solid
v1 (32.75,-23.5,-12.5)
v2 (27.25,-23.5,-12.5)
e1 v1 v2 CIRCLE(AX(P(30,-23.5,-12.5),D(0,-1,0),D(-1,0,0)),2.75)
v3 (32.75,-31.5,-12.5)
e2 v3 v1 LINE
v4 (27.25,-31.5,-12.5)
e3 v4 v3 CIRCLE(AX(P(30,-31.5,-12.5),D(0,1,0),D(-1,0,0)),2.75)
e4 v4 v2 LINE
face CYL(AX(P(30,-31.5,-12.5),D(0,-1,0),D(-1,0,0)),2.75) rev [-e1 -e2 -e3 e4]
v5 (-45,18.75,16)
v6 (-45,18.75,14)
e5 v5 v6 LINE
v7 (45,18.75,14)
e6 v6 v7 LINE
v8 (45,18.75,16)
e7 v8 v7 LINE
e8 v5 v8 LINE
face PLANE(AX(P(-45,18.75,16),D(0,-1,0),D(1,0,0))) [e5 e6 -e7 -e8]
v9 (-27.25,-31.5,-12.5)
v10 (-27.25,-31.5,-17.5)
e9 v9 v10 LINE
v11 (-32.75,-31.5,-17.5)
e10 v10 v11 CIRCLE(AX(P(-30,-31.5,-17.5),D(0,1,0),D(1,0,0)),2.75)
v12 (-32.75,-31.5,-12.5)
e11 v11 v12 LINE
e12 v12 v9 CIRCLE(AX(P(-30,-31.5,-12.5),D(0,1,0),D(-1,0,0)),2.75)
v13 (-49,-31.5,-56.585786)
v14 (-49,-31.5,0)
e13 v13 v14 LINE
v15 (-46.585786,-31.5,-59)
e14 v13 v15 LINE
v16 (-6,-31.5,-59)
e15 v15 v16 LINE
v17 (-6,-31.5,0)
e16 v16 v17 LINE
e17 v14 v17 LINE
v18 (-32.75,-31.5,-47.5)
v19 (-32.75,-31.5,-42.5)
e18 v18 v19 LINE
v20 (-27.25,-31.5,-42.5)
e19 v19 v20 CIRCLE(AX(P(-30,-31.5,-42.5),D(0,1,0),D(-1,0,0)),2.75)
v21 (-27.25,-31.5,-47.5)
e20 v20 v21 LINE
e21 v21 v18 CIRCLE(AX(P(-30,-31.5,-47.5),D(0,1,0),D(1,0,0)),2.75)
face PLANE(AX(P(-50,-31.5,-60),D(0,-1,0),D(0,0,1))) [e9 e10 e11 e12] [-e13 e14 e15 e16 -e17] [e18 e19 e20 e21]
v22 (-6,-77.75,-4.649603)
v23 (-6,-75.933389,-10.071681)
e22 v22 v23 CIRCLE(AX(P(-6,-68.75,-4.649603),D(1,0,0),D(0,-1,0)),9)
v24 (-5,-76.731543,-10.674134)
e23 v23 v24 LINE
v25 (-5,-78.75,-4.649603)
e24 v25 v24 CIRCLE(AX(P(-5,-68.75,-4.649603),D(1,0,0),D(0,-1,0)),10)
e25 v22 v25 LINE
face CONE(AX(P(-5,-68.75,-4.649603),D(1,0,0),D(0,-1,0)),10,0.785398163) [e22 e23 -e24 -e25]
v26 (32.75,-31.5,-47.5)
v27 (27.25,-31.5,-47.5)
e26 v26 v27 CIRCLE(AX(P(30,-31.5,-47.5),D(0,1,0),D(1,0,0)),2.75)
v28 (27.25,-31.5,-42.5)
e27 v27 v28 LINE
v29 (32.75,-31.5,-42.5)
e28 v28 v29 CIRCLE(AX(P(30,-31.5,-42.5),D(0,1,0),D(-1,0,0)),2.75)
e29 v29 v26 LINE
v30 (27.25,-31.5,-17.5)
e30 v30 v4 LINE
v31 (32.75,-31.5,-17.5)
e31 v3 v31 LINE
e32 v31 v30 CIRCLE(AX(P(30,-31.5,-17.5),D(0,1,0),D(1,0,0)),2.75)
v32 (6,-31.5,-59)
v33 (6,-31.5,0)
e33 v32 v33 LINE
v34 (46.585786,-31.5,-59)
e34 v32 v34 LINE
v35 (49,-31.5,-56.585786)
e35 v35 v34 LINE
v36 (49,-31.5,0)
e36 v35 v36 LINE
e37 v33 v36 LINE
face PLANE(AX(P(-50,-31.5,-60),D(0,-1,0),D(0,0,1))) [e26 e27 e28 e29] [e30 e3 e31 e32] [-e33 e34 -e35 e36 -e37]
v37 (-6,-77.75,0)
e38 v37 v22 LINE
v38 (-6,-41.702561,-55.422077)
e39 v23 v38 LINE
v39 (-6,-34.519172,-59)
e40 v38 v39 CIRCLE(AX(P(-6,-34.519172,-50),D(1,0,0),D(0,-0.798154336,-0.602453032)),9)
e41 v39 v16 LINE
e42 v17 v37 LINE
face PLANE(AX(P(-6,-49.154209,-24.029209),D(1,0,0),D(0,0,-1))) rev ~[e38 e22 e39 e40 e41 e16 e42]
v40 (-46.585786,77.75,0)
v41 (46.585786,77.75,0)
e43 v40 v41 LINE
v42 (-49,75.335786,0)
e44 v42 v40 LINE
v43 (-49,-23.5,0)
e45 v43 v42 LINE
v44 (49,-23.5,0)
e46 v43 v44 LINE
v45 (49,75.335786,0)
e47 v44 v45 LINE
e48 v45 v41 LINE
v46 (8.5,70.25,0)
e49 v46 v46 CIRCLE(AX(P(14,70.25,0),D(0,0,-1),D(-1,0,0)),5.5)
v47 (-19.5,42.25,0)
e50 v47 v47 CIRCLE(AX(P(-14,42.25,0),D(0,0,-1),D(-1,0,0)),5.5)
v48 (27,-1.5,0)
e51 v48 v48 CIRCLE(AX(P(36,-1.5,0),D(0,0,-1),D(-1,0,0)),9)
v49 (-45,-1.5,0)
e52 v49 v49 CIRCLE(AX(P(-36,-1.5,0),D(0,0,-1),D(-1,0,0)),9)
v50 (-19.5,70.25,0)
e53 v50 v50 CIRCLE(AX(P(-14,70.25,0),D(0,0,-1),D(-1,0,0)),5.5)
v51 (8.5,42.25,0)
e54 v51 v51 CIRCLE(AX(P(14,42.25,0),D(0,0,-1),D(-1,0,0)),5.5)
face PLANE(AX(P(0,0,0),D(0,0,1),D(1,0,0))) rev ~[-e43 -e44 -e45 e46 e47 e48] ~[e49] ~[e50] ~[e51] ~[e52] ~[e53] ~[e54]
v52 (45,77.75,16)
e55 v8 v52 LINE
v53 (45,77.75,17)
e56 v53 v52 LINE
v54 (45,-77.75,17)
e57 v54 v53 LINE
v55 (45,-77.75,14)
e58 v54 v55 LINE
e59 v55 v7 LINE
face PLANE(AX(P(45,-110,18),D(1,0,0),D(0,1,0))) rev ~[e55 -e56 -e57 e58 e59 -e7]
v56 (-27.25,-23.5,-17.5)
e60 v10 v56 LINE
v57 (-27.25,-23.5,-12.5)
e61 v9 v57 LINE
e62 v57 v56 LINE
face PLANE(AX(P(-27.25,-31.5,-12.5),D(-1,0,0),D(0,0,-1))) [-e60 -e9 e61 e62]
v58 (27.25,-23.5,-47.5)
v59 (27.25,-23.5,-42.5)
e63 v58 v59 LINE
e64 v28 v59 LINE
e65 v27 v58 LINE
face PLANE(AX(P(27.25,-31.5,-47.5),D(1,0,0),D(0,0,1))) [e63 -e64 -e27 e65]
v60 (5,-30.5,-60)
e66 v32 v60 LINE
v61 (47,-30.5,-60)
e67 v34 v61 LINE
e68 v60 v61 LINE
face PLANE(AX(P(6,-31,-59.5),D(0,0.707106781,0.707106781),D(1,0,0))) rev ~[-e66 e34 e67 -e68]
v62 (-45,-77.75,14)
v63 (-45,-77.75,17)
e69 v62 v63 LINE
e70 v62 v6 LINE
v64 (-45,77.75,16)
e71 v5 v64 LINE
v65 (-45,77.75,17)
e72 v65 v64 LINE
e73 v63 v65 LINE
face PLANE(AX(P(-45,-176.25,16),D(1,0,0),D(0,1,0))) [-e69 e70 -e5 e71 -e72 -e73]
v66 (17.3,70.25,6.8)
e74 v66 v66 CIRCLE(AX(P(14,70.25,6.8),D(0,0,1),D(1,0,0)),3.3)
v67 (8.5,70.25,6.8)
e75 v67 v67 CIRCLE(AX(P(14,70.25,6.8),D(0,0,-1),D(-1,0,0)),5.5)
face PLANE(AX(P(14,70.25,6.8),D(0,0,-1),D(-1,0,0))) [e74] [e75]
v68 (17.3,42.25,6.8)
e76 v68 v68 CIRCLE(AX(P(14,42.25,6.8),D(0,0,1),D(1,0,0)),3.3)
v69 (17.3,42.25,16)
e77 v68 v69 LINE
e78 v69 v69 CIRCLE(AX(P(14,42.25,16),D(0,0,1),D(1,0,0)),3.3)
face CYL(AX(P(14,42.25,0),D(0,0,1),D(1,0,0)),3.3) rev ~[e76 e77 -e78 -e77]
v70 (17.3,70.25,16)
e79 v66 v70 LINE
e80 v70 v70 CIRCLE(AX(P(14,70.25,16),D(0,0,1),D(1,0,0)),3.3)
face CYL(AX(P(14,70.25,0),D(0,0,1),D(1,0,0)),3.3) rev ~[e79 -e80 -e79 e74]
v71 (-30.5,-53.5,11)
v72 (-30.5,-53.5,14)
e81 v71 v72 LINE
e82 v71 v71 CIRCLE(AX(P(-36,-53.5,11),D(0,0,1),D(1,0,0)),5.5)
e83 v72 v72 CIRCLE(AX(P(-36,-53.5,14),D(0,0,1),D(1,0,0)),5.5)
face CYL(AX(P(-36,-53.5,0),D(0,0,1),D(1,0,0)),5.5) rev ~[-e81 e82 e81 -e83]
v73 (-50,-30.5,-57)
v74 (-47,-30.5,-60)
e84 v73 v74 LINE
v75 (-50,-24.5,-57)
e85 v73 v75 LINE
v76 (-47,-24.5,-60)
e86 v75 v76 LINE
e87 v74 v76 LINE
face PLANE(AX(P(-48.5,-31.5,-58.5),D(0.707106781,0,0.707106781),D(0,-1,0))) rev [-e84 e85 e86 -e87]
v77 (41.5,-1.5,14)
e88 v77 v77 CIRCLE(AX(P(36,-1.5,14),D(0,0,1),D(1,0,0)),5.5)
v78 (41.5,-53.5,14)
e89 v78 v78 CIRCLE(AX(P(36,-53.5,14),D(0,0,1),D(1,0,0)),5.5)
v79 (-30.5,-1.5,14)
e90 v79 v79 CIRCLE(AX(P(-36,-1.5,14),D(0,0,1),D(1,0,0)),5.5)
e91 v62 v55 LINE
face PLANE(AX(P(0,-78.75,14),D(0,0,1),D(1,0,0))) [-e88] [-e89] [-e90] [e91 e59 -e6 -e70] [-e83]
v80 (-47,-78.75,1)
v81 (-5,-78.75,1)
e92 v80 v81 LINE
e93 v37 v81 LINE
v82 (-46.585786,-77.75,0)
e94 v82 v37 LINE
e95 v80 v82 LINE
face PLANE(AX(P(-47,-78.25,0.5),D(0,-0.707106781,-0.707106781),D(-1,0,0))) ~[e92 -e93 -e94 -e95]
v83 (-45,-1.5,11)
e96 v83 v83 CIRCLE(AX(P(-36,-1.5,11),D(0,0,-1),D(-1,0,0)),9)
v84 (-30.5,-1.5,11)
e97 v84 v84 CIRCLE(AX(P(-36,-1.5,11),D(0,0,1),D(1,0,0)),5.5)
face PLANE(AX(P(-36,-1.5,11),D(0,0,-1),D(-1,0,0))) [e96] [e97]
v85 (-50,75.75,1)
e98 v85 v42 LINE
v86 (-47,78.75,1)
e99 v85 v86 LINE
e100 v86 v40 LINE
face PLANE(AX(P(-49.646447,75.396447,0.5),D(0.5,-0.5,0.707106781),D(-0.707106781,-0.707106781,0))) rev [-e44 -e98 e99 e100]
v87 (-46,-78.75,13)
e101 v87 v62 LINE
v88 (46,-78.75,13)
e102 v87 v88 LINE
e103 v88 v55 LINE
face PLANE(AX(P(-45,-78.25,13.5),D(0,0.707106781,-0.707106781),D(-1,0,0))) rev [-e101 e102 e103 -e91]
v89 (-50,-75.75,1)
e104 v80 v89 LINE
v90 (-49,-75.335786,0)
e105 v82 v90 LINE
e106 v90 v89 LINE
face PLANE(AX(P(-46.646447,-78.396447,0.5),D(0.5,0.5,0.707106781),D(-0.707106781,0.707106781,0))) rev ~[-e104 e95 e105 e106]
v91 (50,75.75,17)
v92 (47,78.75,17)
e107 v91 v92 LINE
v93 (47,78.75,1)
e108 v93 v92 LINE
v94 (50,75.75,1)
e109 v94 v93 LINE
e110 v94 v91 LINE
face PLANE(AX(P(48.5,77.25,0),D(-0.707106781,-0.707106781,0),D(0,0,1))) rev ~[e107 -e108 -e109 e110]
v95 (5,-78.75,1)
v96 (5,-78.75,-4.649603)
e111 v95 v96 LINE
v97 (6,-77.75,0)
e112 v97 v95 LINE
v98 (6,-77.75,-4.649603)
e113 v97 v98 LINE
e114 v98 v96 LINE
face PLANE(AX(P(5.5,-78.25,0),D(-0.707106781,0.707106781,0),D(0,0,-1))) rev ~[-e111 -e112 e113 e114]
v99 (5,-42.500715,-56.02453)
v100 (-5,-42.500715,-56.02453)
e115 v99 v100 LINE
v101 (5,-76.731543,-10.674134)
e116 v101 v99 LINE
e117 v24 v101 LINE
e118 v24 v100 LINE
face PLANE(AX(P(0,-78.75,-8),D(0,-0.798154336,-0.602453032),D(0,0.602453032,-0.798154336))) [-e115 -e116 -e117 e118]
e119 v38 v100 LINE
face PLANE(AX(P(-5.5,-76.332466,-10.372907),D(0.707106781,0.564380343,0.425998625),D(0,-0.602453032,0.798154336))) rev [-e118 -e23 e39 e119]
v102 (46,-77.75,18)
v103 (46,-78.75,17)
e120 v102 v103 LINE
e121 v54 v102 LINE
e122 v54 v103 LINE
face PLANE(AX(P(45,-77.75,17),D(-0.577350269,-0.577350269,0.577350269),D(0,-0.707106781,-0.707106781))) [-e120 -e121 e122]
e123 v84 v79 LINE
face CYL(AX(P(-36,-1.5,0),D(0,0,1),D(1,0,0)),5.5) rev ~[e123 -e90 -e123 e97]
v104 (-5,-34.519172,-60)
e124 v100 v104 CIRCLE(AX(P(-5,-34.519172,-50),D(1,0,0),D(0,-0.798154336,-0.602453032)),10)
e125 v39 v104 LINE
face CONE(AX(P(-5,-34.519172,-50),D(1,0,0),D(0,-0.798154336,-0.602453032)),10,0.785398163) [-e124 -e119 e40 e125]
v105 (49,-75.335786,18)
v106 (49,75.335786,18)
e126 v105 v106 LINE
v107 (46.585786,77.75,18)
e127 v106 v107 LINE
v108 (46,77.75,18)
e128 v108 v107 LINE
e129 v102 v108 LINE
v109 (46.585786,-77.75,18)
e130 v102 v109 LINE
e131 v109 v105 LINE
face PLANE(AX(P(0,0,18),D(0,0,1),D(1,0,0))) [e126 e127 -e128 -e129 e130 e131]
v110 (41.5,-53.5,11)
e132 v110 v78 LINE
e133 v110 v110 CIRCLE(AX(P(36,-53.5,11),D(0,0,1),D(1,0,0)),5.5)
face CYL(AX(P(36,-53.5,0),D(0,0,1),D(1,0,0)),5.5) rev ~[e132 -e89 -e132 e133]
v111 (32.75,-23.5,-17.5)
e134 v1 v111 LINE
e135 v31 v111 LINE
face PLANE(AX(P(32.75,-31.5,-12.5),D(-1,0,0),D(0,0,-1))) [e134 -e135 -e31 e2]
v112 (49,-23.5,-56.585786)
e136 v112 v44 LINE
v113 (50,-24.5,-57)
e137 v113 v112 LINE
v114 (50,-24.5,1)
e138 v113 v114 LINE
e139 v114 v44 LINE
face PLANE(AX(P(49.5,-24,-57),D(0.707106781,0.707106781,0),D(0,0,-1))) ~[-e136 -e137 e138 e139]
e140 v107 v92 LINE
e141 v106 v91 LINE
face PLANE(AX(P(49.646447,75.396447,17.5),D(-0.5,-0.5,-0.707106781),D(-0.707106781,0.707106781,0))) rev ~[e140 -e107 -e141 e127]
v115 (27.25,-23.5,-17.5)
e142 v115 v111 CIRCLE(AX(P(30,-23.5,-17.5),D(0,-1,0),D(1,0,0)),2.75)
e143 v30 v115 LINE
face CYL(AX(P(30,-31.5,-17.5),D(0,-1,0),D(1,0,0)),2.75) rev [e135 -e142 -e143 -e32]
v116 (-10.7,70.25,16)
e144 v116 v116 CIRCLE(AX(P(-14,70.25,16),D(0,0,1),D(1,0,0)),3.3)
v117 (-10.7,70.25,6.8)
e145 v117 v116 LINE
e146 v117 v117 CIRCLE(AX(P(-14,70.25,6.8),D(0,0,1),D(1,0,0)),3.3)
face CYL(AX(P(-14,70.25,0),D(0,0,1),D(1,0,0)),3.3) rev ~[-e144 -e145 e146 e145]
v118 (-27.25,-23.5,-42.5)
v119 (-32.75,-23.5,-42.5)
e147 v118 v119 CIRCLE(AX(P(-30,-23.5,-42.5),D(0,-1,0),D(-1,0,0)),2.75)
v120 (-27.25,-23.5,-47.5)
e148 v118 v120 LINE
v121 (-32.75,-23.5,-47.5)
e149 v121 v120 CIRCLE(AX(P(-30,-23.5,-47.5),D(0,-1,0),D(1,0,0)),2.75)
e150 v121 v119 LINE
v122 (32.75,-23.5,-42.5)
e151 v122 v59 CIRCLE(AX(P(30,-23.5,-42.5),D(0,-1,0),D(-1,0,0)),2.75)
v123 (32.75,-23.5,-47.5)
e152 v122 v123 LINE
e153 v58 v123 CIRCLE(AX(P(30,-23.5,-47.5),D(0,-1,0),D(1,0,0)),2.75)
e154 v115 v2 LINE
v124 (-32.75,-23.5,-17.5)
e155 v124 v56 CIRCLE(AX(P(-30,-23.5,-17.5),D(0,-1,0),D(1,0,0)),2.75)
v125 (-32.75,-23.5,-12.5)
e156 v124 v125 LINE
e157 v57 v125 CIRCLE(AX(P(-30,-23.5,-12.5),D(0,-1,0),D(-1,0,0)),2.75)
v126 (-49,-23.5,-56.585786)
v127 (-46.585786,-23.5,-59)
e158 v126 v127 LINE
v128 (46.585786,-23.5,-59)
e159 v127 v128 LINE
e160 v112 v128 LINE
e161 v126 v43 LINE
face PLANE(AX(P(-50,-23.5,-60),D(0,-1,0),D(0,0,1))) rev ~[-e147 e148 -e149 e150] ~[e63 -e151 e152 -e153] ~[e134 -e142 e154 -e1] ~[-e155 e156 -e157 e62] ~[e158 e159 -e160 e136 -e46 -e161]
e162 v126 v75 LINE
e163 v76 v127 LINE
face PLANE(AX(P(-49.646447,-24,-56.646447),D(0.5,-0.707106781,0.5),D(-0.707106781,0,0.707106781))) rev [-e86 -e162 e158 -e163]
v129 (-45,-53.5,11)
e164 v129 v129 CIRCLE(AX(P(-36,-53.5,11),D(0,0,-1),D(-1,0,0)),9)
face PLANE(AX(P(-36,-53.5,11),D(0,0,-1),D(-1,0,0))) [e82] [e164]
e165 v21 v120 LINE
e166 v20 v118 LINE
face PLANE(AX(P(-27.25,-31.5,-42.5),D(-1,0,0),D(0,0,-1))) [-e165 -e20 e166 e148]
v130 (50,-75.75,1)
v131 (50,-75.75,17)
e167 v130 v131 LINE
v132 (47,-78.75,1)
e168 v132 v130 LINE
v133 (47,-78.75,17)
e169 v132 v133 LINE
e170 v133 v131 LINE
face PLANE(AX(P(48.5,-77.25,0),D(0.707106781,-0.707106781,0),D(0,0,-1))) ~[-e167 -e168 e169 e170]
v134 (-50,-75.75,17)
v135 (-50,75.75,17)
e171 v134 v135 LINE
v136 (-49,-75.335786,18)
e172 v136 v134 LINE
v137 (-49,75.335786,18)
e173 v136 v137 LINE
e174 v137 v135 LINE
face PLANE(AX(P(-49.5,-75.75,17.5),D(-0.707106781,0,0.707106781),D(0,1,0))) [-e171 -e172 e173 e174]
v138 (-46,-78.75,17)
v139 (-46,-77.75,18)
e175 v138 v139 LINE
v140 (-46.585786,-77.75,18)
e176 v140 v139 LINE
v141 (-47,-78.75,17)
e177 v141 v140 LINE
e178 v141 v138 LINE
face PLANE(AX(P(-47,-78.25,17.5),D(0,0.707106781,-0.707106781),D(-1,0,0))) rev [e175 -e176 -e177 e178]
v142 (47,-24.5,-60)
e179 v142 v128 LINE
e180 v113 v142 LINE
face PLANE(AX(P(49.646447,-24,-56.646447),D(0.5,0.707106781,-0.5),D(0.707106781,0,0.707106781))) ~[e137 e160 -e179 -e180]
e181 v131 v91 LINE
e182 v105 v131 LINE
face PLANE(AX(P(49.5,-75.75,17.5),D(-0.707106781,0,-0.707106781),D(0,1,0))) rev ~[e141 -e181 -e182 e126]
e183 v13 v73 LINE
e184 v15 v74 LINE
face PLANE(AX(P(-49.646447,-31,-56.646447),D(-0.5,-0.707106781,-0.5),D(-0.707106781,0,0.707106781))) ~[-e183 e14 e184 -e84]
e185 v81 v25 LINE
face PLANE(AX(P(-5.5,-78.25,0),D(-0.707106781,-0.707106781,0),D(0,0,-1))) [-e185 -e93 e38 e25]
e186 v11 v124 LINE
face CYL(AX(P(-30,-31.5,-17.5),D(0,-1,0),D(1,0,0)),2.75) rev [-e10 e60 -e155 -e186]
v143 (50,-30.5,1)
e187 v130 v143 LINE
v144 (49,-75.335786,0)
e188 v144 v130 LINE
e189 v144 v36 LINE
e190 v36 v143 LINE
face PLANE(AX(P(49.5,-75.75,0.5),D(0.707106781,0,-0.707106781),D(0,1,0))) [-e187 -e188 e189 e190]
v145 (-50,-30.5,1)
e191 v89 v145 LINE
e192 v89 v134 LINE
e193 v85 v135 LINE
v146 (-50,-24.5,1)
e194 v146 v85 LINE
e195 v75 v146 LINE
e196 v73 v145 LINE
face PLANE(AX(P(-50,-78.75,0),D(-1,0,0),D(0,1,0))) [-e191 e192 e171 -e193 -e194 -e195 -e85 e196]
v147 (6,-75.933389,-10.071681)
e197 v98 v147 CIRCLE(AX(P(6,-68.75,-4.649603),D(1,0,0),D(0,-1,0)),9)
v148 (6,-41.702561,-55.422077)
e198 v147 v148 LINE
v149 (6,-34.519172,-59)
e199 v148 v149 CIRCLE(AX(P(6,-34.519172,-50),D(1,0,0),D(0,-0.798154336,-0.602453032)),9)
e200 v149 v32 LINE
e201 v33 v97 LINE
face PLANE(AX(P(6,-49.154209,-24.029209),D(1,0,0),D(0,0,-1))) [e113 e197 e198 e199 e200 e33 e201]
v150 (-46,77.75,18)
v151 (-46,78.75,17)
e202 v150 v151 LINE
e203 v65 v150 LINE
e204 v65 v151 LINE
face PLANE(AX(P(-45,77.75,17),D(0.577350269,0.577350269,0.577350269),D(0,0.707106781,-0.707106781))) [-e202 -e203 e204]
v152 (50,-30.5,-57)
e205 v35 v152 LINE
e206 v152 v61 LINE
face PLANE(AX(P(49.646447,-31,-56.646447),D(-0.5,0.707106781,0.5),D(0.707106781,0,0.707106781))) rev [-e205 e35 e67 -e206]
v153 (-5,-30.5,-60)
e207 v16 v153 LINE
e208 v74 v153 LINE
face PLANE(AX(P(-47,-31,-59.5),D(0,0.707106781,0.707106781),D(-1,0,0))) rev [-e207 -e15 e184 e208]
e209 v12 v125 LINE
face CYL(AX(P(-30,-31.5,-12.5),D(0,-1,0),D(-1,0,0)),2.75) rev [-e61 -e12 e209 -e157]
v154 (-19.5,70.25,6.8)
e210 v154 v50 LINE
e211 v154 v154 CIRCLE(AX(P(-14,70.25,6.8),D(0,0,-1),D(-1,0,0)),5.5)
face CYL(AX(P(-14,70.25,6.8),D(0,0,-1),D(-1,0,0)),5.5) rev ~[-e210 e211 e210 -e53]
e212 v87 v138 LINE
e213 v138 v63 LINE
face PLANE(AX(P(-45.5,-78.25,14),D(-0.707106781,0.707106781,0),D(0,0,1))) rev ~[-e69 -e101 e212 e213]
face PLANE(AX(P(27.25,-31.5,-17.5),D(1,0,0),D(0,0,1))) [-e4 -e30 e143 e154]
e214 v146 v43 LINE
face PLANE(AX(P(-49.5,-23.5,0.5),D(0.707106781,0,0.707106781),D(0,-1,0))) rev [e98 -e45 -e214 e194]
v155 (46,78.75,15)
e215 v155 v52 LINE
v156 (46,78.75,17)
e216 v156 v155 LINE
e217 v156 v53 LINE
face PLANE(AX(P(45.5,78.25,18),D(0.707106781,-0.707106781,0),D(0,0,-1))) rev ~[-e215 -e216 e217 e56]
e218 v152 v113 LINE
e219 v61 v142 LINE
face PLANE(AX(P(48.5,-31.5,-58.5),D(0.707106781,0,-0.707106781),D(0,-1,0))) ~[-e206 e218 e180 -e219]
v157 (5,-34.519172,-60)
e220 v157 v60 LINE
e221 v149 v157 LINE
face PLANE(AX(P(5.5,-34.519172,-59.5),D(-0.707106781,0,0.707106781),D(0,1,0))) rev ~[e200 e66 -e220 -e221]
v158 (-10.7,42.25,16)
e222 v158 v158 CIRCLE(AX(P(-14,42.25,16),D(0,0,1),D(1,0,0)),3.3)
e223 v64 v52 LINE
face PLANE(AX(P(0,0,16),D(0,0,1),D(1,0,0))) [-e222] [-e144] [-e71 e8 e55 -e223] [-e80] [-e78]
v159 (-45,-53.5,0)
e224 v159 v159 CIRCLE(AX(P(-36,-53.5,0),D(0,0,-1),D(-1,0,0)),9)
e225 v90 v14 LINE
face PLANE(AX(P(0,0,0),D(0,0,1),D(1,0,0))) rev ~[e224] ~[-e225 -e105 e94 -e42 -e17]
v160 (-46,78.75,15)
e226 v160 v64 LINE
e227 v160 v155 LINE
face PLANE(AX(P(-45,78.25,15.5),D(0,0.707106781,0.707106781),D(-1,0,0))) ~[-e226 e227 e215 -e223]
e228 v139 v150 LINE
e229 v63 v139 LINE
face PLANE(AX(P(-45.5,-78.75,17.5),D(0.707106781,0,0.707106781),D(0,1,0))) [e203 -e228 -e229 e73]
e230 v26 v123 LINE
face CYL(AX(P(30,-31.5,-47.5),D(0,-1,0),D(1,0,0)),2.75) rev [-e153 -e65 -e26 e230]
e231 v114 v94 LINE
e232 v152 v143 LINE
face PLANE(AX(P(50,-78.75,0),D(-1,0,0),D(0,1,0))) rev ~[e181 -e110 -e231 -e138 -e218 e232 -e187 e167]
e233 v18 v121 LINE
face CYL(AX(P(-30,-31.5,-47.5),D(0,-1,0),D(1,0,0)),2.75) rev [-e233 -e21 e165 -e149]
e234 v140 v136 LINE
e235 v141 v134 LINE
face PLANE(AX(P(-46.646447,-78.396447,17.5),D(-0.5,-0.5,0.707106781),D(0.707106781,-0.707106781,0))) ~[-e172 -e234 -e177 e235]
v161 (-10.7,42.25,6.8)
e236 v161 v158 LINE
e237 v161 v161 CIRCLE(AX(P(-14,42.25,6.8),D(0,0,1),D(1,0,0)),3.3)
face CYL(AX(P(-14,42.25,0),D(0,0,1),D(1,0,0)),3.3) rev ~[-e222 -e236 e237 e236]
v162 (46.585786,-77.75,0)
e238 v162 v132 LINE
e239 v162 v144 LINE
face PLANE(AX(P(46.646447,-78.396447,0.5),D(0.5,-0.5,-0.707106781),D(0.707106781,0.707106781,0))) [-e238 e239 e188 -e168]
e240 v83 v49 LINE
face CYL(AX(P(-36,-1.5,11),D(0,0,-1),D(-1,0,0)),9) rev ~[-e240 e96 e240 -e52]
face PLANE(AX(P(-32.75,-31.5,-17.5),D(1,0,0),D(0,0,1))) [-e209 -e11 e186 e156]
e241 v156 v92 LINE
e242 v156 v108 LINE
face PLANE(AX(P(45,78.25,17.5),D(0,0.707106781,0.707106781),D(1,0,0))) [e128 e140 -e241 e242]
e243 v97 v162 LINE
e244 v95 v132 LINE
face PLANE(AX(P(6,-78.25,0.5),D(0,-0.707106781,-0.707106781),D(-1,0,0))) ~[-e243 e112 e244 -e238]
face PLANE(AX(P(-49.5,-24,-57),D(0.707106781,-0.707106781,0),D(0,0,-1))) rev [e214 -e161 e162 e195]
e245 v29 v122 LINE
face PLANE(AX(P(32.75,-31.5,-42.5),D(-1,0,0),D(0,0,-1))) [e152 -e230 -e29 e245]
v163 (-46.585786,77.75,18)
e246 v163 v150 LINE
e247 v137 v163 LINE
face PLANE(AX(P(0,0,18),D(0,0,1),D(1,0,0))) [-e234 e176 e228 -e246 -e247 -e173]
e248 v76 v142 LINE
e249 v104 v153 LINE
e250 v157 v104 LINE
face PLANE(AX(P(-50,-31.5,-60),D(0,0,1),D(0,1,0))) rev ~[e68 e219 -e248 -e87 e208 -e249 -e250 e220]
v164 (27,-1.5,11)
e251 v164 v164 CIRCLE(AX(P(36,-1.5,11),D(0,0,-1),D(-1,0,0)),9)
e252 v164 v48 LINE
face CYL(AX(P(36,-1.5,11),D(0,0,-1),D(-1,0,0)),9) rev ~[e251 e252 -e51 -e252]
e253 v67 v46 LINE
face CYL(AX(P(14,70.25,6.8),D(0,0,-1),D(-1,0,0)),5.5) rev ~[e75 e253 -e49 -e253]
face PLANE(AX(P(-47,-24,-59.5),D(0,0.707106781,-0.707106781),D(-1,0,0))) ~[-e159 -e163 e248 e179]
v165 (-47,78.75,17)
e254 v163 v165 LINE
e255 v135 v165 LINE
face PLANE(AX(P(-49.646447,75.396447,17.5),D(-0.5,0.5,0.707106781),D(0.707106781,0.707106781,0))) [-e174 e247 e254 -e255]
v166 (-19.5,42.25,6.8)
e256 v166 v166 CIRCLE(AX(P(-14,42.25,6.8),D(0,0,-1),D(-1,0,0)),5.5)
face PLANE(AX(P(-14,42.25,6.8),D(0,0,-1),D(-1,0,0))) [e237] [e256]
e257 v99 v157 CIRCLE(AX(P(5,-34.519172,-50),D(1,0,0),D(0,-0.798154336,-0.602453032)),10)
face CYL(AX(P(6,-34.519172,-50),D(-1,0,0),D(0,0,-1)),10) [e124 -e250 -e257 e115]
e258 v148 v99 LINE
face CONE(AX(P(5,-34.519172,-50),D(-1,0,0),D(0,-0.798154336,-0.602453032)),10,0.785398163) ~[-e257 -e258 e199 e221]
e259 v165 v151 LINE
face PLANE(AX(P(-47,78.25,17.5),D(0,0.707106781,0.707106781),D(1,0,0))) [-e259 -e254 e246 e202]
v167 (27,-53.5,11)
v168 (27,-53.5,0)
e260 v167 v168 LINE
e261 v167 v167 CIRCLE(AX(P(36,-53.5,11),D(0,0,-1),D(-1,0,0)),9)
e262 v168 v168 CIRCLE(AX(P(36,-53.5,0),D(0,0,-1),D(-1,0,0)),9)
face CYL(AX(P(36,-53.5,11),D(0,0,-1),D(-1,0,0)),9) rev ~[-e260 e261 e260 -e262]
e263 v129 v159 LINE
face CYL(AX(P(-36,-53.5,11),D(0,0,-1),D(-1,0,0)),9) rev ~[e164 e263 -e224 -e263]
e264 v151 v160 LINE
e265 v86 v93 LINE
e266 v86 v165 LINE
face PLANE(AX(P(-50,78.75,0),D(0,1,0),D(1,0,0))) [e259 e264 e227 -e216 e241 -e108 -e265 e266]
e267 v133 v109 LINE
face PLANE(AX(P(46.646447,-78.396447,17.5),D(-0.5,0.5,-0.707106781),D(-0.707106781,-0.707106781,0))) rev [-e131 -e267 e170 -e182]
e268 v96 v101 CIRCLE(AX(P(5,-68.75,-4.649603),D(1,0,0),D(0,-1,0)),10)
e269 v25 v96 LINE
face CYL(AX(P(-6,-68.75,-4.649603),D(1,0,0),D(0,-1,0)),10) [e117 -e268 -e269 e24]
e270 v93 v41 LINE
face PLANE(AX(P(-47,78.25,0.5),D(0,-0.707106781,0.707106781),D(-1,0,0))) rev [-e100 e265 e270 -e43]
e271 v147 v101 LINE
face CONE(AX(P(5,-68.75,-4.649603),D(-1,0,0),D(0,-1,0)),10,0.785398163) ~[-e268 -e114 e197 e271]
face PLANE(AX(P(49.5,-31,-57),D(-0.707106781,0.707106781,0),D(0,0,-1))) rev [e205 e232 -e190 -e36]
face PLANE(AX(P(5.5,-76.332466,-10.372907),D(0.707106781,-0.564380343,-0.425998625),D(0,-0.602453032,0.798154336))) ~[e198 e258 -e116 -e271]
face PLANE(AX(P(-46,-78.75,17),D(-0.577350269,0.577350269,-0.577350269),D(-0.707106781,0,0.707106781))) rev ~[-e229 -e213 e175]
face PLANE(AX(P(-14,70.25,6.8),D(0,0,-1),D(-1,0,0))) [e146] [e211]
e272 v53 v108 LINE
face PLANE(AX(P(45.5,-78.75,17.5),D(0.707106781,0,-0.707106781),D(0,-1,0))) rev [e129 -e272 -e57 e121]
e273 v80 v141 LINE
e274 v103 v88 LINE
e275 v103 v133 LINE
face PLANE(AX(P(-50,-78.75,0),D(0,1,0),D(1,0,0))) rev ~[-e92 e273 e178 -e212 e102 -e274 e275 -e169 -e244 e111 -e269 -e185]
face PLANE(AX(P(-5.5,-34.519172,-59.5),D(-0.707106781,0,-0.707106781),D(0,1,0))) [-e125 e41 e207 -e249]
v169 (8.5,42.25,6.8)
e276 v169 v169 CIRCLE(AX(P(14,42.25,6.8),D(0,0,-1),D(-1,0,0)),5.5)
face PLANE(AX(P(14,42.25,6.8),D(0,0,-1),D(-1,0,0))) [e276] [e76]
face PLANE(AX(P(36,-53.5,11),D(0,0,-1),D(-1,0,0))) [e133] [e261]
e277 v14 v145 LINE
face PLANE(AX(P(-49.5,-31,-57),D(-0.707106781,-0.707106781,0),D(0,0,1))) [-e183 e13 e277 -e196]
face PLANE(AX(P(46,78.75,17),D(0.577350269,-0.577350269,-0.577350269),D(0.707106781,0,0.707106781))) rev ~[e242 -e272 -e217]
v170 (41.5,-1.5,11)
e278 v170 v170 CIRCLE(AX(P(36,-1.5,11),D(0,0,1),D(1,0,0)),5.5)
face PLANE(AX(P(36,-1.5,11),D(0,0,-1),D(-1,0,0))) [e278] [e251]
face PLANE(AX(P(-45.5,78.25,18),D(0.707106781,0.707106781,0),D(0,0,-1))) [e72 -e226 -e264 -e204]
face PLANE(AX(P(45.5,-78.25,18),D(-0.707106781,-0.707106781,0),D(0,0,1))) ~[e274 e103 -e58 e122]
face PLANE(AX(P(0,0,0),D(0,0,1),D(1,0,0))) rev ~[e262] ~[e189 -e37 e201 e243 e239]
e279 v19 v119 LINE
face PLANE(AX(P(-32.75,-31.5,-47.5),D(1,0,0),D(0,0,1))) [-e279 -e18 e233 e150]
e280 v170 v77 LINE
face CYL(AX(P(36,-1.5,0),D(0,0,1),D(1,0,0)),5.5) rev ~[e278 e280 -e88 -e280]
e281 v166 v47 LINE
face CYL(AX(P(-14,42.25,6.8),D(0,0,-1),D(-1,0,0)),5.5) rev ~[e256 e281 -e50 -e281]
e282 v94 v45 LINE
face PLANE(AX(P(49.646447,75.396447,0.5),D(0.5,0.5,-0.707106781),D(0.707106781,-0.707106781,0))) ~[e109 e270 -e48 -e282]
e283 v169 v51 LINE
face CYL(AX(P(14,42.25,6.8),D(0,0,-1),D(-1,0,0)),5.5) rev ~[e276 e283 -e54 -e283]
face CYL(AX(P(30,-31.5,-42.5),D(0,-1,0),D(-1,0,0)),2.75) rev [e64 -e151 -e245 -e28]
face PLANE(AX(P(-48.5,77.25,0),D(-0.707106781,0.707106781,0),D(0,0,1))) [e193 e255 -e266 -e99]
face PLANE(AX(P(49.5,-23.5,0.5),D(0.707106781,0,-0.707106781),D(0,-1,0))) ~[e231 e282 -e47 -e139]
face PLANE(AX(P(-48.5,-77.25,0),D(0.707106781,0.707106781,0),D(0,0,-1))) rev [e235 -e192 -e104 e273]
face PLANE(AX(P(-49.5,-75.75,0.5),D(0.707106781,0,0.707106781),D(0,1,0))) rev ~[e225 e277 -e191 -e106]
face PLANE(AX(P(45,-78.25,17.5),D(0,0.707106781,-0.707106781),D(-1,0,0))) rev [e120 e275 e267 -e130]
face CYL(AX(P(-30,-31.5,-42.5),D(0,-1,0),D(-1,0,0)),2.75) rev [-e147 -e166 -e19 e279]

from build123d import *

# Parameters (mm, degrees)
SKETCH_1_W                = 100
SKETCH_1_H                = 157.5
EXTRUDE_1_DEPTH           = 18
SKETCH_2_W                = 90
SKETCH_2_H                = 220
CUT_EXTRUDE_1_DEPTH       = 2
SKETCH_3_W                = 90
SKETCH_3_H                = 195
CUT_EXTRUDE_2_DEPTH       = 2
SKETCH_4_W                = 60
SKETCH_4_H                = 8
EXTRUDE_2_DEPTH           = 100
EXTRUDE_3_DEPTH           = 6
HOLE_WIZARD_0_D           = 11
HOLE_WIZARD_0_CBORE_D     = 18
HOLE_WIZARD_0_CBORE_DEPTH = 11
HOLE_WIZARD_1_D           = 6.6
HOLE_WIZARD_1_CBORE_D     = 11
HOLE_WIZARD_1_CBORE_DEPTH = 6.8
FILLET_1_R                = 10
CUT_EXTRUDE_3_DEPTH       = 136.111296715
CHAMFER_1_SIZE            = 3
CHAMFER_2_SIZE            = 1


with BuildPart() as part:
    # 草图1 → 凸台-拉伸1 (new body)
    with BuildSketch(Plane.XY):
        Rectangle(SKETCH_1_W, SKETCH_1_H)
    extrude(amount=EXTRUDE_1_DEPTH)

    # 草图2 → 切除-拉伸1 (cut)
    with BuildSketch(Plane.XY.offset(18)):
        Rectangle(SKETCH_2_W, SKETCH_2_H)
    extrude(amount=-CUT_EXTRUDE_1_DEPTH, mode=Mode.SUBTRACT)

    # 草图3 → 切除-拉伸2 (cut)
    with BuildSketch(Plane.XY.offset(16)):
        with Locations((0, -78.75)):
            Rectangle(SKETCH_3_W, SKETCH_3_H)
    extrude(amount=-CUT_EXTRUDE_2_DEPTH, mode=Mode.SUBTRACT)

    # 草图4 → 凸台-拉伸2 (add)
    with BuildSketch(Plane.ZY.offset(50)):
        with Locations((-30, -27.5)):
            Rectangle(SKETCH_4_W, SKETCH_4_H)
    extrude(amount=-EXTRUDE_2_DEPTH)

    # 草图5 → 凸台-拉伸3 (add, symmetric)
    with BuildSketch(Plane(origin=(0, 0, 0), x_dir=(0, 0, -1), z_dir=(1, 0, 0))):
        Polygon((0, -31.5), (0, -78.75), (8, -78.75), (60, -39.5), (60, -31.5), align=None)
    extrude(amount=EXTRUDE_3_DEPTH, both=True)

    # 打孔尺寸(%根据)内六角圆柱头螺钉的类型0 (through all)
    with Locations(Plane(origin=(0, 0, 0), x_dir=(-1, 0, 0), z_dir=(0, 0, -1))):
        with Locations((-36, -1.5), (36, -1.5), (36, -53.5), (-36, -53.5)):
            CounterBoreHole(HOLE_WIZARD_0_D / 2, HOLE_WIZARD_0_CBORE_D / 2, HOLE_WIZARD_0_CBORE_DEPTH)

    # 打孔尺寸(%根据)内六角圆柱头螺钉的类型1 (through all)
    with Locations(Plane(origin=(0, 0, 0), x_dir=(-1, 0, 0), z_dir=(0, 0, -1))):
        with Locations((-14, 70.25), (-14, 42.25), (14, 70.25), (14, 42.25)):
            CounterBoreHole(HOLE_WIZARD_1_D / 2, HOLE_WIZARD_1_CBORE_D / 2, HOLE_WIZARD_1_CBORE_DEPTH)

    # 圆角1
    fillet_1_edges = [part.edges().sort_by_distance(p)[0] for p in [
        (0, -78.75, -8),
        (0, -39.5, -60),
    ]]
    fillet(fillet_1_edges, radius=FILLET_1_R)

    # 草图12 → 切除-拉伸3 (cut, through all)
    with BuildSketch(Plane.XZ.offset(31.5)):
        with BuildLine():
            Line((32.75, -42.5), (32.75, -47.5))
            ThreePointArc((32.75, -47.5), (30, -50.25), (27.25, -47.5))
            Line((27.25, -47.5), (27.25, -42.5))
            ThreePointArc((27.25, -42.5), (30, -39.75), (32.75, -42.5))
        make_face()
        with BuildLine():
            Line((32.75, -12.5), (32.75, -17.5))
            ThreePointArc((32.75, -17.5), (30, -20.25), (27.25, -17.5))
            Line((27.25, -17.5), (27.25, -12.5))
            ThreePointArc((27.25, -12.5), (30, -9.75), (32.75, -12.5))
        make_face()
        with BuildLine():
            Line((-32.75, -47.5), (-32.75, -42.5))
            ThreePointArc((-32.75, -42.5), (-30, -39.75), (-27.25, -42.5))
            Line((-27.25, -42.5), (-27.25, -47.5))
            ThreePointArc((-27.25, -47.5), (-30, -50.25), (-32.75, -47.5))
        make_face()
        with BuildLine():
            Line((-27.25, -12.5), (-27.25, -17.5))
            ThreePointArc((-27.25, -17.5), (-30, -20.25), (-32.75, -17.5))
            Line((-32.75, -17.5), (-32.75, -12.5))
            ThreePointArc((-32.75, -12.5), (-30, -9.75), (-27.25, -12.5))
        make_face()
    extrude(amount=-CUT_EXTRUDE_3_DEPTH, mode=Mode.SUBTRACT)

    # 倒角1
    chamfer_1_edges = [part.edges().sort_by_distance(p)[0] for p in [
        (-50, -27.5, -60),
        (50, -27.5, -60),
        (50, -78.75, 9),
        (-50, -78.75, 9),
        (-50, 78.75, 9),
        (50, 78.75, 9),
    ]]
    chamfer(chamfer_1_edges, length=CHAMFER_1_SIZE)

    # 倒角2
    chamfer_2_edges = [part.edges().sort_by_distance(p)[0] for p in [
        (-46, 78.75, 18),
        (46, -78.75, 18),
        (-45, 0, 18),
        (45, 0, 18),
        (-6, -59.616129225, -33.349331982),
        (6, -59.616129225, -33.349331982),
        (-6, -33.009585867, -60),
        (-6, -38.977573733, -58.951125718),
        (-6, -78.231967981, -7.826438724),
        (6, -33.009585867, -60),
        (6, -38.977573733, -58.951125718),
        (6, -78.231967981, -7.826438724),
        (0, 78.75, 16),
        (45, 78.75, 17),
        (45, -78.75, 16),
        (-45, 78.75, 17),
        (-45, -78.75, 16),
        (50, -53.625, 0),
        (50, -23.5, -28.5),
        (50, 0, 18),
        (0, -23.5, -60),
        (-48.5, -23.5, -58.5),
        (48.5, -23.5, -58.5),
        (26.5, -31.5, -60),
        (48.5, -31.5, -58.5),
        (-50, 26.125, 0),
        (-50, -31.5, -28.5),
        (-50, 0, 18),
        (-48.5, -31.5, -58.5),
        (-46, -78.75, 18),
        (-26.5, -78.75, 0),
        (-48.5, -77.25, 0),
        (-48.5, 77.25, 18),
        (-48.5, -77.25, 18),
        (48.5, -77.25, 0),
        (46, 78.75, 18),
        (48.5, 77.25, 18),
        (48.5, -77.25, 18),
        (0, 78.75, 0),
        (-48.5, 77.25, 0),
        (48.5, 77.25, 0),
        (0, -78.75, 14),
        (50, 26.125, 0),
        (-50, -53.625, 0),
        (-50, -23.5, -28.5),
        (50, -31.5, -28.5),
        (-26.5, -31.5, -60),
        (26.5, -78.75, 0),
        (-6, -78.75, -2.324801658),
        (6, -78.75, -2.324801658),
    ]]
    chamfer(chamfer_2_edges, length=CHAMFER_2_SIZE)


solid = part.part
